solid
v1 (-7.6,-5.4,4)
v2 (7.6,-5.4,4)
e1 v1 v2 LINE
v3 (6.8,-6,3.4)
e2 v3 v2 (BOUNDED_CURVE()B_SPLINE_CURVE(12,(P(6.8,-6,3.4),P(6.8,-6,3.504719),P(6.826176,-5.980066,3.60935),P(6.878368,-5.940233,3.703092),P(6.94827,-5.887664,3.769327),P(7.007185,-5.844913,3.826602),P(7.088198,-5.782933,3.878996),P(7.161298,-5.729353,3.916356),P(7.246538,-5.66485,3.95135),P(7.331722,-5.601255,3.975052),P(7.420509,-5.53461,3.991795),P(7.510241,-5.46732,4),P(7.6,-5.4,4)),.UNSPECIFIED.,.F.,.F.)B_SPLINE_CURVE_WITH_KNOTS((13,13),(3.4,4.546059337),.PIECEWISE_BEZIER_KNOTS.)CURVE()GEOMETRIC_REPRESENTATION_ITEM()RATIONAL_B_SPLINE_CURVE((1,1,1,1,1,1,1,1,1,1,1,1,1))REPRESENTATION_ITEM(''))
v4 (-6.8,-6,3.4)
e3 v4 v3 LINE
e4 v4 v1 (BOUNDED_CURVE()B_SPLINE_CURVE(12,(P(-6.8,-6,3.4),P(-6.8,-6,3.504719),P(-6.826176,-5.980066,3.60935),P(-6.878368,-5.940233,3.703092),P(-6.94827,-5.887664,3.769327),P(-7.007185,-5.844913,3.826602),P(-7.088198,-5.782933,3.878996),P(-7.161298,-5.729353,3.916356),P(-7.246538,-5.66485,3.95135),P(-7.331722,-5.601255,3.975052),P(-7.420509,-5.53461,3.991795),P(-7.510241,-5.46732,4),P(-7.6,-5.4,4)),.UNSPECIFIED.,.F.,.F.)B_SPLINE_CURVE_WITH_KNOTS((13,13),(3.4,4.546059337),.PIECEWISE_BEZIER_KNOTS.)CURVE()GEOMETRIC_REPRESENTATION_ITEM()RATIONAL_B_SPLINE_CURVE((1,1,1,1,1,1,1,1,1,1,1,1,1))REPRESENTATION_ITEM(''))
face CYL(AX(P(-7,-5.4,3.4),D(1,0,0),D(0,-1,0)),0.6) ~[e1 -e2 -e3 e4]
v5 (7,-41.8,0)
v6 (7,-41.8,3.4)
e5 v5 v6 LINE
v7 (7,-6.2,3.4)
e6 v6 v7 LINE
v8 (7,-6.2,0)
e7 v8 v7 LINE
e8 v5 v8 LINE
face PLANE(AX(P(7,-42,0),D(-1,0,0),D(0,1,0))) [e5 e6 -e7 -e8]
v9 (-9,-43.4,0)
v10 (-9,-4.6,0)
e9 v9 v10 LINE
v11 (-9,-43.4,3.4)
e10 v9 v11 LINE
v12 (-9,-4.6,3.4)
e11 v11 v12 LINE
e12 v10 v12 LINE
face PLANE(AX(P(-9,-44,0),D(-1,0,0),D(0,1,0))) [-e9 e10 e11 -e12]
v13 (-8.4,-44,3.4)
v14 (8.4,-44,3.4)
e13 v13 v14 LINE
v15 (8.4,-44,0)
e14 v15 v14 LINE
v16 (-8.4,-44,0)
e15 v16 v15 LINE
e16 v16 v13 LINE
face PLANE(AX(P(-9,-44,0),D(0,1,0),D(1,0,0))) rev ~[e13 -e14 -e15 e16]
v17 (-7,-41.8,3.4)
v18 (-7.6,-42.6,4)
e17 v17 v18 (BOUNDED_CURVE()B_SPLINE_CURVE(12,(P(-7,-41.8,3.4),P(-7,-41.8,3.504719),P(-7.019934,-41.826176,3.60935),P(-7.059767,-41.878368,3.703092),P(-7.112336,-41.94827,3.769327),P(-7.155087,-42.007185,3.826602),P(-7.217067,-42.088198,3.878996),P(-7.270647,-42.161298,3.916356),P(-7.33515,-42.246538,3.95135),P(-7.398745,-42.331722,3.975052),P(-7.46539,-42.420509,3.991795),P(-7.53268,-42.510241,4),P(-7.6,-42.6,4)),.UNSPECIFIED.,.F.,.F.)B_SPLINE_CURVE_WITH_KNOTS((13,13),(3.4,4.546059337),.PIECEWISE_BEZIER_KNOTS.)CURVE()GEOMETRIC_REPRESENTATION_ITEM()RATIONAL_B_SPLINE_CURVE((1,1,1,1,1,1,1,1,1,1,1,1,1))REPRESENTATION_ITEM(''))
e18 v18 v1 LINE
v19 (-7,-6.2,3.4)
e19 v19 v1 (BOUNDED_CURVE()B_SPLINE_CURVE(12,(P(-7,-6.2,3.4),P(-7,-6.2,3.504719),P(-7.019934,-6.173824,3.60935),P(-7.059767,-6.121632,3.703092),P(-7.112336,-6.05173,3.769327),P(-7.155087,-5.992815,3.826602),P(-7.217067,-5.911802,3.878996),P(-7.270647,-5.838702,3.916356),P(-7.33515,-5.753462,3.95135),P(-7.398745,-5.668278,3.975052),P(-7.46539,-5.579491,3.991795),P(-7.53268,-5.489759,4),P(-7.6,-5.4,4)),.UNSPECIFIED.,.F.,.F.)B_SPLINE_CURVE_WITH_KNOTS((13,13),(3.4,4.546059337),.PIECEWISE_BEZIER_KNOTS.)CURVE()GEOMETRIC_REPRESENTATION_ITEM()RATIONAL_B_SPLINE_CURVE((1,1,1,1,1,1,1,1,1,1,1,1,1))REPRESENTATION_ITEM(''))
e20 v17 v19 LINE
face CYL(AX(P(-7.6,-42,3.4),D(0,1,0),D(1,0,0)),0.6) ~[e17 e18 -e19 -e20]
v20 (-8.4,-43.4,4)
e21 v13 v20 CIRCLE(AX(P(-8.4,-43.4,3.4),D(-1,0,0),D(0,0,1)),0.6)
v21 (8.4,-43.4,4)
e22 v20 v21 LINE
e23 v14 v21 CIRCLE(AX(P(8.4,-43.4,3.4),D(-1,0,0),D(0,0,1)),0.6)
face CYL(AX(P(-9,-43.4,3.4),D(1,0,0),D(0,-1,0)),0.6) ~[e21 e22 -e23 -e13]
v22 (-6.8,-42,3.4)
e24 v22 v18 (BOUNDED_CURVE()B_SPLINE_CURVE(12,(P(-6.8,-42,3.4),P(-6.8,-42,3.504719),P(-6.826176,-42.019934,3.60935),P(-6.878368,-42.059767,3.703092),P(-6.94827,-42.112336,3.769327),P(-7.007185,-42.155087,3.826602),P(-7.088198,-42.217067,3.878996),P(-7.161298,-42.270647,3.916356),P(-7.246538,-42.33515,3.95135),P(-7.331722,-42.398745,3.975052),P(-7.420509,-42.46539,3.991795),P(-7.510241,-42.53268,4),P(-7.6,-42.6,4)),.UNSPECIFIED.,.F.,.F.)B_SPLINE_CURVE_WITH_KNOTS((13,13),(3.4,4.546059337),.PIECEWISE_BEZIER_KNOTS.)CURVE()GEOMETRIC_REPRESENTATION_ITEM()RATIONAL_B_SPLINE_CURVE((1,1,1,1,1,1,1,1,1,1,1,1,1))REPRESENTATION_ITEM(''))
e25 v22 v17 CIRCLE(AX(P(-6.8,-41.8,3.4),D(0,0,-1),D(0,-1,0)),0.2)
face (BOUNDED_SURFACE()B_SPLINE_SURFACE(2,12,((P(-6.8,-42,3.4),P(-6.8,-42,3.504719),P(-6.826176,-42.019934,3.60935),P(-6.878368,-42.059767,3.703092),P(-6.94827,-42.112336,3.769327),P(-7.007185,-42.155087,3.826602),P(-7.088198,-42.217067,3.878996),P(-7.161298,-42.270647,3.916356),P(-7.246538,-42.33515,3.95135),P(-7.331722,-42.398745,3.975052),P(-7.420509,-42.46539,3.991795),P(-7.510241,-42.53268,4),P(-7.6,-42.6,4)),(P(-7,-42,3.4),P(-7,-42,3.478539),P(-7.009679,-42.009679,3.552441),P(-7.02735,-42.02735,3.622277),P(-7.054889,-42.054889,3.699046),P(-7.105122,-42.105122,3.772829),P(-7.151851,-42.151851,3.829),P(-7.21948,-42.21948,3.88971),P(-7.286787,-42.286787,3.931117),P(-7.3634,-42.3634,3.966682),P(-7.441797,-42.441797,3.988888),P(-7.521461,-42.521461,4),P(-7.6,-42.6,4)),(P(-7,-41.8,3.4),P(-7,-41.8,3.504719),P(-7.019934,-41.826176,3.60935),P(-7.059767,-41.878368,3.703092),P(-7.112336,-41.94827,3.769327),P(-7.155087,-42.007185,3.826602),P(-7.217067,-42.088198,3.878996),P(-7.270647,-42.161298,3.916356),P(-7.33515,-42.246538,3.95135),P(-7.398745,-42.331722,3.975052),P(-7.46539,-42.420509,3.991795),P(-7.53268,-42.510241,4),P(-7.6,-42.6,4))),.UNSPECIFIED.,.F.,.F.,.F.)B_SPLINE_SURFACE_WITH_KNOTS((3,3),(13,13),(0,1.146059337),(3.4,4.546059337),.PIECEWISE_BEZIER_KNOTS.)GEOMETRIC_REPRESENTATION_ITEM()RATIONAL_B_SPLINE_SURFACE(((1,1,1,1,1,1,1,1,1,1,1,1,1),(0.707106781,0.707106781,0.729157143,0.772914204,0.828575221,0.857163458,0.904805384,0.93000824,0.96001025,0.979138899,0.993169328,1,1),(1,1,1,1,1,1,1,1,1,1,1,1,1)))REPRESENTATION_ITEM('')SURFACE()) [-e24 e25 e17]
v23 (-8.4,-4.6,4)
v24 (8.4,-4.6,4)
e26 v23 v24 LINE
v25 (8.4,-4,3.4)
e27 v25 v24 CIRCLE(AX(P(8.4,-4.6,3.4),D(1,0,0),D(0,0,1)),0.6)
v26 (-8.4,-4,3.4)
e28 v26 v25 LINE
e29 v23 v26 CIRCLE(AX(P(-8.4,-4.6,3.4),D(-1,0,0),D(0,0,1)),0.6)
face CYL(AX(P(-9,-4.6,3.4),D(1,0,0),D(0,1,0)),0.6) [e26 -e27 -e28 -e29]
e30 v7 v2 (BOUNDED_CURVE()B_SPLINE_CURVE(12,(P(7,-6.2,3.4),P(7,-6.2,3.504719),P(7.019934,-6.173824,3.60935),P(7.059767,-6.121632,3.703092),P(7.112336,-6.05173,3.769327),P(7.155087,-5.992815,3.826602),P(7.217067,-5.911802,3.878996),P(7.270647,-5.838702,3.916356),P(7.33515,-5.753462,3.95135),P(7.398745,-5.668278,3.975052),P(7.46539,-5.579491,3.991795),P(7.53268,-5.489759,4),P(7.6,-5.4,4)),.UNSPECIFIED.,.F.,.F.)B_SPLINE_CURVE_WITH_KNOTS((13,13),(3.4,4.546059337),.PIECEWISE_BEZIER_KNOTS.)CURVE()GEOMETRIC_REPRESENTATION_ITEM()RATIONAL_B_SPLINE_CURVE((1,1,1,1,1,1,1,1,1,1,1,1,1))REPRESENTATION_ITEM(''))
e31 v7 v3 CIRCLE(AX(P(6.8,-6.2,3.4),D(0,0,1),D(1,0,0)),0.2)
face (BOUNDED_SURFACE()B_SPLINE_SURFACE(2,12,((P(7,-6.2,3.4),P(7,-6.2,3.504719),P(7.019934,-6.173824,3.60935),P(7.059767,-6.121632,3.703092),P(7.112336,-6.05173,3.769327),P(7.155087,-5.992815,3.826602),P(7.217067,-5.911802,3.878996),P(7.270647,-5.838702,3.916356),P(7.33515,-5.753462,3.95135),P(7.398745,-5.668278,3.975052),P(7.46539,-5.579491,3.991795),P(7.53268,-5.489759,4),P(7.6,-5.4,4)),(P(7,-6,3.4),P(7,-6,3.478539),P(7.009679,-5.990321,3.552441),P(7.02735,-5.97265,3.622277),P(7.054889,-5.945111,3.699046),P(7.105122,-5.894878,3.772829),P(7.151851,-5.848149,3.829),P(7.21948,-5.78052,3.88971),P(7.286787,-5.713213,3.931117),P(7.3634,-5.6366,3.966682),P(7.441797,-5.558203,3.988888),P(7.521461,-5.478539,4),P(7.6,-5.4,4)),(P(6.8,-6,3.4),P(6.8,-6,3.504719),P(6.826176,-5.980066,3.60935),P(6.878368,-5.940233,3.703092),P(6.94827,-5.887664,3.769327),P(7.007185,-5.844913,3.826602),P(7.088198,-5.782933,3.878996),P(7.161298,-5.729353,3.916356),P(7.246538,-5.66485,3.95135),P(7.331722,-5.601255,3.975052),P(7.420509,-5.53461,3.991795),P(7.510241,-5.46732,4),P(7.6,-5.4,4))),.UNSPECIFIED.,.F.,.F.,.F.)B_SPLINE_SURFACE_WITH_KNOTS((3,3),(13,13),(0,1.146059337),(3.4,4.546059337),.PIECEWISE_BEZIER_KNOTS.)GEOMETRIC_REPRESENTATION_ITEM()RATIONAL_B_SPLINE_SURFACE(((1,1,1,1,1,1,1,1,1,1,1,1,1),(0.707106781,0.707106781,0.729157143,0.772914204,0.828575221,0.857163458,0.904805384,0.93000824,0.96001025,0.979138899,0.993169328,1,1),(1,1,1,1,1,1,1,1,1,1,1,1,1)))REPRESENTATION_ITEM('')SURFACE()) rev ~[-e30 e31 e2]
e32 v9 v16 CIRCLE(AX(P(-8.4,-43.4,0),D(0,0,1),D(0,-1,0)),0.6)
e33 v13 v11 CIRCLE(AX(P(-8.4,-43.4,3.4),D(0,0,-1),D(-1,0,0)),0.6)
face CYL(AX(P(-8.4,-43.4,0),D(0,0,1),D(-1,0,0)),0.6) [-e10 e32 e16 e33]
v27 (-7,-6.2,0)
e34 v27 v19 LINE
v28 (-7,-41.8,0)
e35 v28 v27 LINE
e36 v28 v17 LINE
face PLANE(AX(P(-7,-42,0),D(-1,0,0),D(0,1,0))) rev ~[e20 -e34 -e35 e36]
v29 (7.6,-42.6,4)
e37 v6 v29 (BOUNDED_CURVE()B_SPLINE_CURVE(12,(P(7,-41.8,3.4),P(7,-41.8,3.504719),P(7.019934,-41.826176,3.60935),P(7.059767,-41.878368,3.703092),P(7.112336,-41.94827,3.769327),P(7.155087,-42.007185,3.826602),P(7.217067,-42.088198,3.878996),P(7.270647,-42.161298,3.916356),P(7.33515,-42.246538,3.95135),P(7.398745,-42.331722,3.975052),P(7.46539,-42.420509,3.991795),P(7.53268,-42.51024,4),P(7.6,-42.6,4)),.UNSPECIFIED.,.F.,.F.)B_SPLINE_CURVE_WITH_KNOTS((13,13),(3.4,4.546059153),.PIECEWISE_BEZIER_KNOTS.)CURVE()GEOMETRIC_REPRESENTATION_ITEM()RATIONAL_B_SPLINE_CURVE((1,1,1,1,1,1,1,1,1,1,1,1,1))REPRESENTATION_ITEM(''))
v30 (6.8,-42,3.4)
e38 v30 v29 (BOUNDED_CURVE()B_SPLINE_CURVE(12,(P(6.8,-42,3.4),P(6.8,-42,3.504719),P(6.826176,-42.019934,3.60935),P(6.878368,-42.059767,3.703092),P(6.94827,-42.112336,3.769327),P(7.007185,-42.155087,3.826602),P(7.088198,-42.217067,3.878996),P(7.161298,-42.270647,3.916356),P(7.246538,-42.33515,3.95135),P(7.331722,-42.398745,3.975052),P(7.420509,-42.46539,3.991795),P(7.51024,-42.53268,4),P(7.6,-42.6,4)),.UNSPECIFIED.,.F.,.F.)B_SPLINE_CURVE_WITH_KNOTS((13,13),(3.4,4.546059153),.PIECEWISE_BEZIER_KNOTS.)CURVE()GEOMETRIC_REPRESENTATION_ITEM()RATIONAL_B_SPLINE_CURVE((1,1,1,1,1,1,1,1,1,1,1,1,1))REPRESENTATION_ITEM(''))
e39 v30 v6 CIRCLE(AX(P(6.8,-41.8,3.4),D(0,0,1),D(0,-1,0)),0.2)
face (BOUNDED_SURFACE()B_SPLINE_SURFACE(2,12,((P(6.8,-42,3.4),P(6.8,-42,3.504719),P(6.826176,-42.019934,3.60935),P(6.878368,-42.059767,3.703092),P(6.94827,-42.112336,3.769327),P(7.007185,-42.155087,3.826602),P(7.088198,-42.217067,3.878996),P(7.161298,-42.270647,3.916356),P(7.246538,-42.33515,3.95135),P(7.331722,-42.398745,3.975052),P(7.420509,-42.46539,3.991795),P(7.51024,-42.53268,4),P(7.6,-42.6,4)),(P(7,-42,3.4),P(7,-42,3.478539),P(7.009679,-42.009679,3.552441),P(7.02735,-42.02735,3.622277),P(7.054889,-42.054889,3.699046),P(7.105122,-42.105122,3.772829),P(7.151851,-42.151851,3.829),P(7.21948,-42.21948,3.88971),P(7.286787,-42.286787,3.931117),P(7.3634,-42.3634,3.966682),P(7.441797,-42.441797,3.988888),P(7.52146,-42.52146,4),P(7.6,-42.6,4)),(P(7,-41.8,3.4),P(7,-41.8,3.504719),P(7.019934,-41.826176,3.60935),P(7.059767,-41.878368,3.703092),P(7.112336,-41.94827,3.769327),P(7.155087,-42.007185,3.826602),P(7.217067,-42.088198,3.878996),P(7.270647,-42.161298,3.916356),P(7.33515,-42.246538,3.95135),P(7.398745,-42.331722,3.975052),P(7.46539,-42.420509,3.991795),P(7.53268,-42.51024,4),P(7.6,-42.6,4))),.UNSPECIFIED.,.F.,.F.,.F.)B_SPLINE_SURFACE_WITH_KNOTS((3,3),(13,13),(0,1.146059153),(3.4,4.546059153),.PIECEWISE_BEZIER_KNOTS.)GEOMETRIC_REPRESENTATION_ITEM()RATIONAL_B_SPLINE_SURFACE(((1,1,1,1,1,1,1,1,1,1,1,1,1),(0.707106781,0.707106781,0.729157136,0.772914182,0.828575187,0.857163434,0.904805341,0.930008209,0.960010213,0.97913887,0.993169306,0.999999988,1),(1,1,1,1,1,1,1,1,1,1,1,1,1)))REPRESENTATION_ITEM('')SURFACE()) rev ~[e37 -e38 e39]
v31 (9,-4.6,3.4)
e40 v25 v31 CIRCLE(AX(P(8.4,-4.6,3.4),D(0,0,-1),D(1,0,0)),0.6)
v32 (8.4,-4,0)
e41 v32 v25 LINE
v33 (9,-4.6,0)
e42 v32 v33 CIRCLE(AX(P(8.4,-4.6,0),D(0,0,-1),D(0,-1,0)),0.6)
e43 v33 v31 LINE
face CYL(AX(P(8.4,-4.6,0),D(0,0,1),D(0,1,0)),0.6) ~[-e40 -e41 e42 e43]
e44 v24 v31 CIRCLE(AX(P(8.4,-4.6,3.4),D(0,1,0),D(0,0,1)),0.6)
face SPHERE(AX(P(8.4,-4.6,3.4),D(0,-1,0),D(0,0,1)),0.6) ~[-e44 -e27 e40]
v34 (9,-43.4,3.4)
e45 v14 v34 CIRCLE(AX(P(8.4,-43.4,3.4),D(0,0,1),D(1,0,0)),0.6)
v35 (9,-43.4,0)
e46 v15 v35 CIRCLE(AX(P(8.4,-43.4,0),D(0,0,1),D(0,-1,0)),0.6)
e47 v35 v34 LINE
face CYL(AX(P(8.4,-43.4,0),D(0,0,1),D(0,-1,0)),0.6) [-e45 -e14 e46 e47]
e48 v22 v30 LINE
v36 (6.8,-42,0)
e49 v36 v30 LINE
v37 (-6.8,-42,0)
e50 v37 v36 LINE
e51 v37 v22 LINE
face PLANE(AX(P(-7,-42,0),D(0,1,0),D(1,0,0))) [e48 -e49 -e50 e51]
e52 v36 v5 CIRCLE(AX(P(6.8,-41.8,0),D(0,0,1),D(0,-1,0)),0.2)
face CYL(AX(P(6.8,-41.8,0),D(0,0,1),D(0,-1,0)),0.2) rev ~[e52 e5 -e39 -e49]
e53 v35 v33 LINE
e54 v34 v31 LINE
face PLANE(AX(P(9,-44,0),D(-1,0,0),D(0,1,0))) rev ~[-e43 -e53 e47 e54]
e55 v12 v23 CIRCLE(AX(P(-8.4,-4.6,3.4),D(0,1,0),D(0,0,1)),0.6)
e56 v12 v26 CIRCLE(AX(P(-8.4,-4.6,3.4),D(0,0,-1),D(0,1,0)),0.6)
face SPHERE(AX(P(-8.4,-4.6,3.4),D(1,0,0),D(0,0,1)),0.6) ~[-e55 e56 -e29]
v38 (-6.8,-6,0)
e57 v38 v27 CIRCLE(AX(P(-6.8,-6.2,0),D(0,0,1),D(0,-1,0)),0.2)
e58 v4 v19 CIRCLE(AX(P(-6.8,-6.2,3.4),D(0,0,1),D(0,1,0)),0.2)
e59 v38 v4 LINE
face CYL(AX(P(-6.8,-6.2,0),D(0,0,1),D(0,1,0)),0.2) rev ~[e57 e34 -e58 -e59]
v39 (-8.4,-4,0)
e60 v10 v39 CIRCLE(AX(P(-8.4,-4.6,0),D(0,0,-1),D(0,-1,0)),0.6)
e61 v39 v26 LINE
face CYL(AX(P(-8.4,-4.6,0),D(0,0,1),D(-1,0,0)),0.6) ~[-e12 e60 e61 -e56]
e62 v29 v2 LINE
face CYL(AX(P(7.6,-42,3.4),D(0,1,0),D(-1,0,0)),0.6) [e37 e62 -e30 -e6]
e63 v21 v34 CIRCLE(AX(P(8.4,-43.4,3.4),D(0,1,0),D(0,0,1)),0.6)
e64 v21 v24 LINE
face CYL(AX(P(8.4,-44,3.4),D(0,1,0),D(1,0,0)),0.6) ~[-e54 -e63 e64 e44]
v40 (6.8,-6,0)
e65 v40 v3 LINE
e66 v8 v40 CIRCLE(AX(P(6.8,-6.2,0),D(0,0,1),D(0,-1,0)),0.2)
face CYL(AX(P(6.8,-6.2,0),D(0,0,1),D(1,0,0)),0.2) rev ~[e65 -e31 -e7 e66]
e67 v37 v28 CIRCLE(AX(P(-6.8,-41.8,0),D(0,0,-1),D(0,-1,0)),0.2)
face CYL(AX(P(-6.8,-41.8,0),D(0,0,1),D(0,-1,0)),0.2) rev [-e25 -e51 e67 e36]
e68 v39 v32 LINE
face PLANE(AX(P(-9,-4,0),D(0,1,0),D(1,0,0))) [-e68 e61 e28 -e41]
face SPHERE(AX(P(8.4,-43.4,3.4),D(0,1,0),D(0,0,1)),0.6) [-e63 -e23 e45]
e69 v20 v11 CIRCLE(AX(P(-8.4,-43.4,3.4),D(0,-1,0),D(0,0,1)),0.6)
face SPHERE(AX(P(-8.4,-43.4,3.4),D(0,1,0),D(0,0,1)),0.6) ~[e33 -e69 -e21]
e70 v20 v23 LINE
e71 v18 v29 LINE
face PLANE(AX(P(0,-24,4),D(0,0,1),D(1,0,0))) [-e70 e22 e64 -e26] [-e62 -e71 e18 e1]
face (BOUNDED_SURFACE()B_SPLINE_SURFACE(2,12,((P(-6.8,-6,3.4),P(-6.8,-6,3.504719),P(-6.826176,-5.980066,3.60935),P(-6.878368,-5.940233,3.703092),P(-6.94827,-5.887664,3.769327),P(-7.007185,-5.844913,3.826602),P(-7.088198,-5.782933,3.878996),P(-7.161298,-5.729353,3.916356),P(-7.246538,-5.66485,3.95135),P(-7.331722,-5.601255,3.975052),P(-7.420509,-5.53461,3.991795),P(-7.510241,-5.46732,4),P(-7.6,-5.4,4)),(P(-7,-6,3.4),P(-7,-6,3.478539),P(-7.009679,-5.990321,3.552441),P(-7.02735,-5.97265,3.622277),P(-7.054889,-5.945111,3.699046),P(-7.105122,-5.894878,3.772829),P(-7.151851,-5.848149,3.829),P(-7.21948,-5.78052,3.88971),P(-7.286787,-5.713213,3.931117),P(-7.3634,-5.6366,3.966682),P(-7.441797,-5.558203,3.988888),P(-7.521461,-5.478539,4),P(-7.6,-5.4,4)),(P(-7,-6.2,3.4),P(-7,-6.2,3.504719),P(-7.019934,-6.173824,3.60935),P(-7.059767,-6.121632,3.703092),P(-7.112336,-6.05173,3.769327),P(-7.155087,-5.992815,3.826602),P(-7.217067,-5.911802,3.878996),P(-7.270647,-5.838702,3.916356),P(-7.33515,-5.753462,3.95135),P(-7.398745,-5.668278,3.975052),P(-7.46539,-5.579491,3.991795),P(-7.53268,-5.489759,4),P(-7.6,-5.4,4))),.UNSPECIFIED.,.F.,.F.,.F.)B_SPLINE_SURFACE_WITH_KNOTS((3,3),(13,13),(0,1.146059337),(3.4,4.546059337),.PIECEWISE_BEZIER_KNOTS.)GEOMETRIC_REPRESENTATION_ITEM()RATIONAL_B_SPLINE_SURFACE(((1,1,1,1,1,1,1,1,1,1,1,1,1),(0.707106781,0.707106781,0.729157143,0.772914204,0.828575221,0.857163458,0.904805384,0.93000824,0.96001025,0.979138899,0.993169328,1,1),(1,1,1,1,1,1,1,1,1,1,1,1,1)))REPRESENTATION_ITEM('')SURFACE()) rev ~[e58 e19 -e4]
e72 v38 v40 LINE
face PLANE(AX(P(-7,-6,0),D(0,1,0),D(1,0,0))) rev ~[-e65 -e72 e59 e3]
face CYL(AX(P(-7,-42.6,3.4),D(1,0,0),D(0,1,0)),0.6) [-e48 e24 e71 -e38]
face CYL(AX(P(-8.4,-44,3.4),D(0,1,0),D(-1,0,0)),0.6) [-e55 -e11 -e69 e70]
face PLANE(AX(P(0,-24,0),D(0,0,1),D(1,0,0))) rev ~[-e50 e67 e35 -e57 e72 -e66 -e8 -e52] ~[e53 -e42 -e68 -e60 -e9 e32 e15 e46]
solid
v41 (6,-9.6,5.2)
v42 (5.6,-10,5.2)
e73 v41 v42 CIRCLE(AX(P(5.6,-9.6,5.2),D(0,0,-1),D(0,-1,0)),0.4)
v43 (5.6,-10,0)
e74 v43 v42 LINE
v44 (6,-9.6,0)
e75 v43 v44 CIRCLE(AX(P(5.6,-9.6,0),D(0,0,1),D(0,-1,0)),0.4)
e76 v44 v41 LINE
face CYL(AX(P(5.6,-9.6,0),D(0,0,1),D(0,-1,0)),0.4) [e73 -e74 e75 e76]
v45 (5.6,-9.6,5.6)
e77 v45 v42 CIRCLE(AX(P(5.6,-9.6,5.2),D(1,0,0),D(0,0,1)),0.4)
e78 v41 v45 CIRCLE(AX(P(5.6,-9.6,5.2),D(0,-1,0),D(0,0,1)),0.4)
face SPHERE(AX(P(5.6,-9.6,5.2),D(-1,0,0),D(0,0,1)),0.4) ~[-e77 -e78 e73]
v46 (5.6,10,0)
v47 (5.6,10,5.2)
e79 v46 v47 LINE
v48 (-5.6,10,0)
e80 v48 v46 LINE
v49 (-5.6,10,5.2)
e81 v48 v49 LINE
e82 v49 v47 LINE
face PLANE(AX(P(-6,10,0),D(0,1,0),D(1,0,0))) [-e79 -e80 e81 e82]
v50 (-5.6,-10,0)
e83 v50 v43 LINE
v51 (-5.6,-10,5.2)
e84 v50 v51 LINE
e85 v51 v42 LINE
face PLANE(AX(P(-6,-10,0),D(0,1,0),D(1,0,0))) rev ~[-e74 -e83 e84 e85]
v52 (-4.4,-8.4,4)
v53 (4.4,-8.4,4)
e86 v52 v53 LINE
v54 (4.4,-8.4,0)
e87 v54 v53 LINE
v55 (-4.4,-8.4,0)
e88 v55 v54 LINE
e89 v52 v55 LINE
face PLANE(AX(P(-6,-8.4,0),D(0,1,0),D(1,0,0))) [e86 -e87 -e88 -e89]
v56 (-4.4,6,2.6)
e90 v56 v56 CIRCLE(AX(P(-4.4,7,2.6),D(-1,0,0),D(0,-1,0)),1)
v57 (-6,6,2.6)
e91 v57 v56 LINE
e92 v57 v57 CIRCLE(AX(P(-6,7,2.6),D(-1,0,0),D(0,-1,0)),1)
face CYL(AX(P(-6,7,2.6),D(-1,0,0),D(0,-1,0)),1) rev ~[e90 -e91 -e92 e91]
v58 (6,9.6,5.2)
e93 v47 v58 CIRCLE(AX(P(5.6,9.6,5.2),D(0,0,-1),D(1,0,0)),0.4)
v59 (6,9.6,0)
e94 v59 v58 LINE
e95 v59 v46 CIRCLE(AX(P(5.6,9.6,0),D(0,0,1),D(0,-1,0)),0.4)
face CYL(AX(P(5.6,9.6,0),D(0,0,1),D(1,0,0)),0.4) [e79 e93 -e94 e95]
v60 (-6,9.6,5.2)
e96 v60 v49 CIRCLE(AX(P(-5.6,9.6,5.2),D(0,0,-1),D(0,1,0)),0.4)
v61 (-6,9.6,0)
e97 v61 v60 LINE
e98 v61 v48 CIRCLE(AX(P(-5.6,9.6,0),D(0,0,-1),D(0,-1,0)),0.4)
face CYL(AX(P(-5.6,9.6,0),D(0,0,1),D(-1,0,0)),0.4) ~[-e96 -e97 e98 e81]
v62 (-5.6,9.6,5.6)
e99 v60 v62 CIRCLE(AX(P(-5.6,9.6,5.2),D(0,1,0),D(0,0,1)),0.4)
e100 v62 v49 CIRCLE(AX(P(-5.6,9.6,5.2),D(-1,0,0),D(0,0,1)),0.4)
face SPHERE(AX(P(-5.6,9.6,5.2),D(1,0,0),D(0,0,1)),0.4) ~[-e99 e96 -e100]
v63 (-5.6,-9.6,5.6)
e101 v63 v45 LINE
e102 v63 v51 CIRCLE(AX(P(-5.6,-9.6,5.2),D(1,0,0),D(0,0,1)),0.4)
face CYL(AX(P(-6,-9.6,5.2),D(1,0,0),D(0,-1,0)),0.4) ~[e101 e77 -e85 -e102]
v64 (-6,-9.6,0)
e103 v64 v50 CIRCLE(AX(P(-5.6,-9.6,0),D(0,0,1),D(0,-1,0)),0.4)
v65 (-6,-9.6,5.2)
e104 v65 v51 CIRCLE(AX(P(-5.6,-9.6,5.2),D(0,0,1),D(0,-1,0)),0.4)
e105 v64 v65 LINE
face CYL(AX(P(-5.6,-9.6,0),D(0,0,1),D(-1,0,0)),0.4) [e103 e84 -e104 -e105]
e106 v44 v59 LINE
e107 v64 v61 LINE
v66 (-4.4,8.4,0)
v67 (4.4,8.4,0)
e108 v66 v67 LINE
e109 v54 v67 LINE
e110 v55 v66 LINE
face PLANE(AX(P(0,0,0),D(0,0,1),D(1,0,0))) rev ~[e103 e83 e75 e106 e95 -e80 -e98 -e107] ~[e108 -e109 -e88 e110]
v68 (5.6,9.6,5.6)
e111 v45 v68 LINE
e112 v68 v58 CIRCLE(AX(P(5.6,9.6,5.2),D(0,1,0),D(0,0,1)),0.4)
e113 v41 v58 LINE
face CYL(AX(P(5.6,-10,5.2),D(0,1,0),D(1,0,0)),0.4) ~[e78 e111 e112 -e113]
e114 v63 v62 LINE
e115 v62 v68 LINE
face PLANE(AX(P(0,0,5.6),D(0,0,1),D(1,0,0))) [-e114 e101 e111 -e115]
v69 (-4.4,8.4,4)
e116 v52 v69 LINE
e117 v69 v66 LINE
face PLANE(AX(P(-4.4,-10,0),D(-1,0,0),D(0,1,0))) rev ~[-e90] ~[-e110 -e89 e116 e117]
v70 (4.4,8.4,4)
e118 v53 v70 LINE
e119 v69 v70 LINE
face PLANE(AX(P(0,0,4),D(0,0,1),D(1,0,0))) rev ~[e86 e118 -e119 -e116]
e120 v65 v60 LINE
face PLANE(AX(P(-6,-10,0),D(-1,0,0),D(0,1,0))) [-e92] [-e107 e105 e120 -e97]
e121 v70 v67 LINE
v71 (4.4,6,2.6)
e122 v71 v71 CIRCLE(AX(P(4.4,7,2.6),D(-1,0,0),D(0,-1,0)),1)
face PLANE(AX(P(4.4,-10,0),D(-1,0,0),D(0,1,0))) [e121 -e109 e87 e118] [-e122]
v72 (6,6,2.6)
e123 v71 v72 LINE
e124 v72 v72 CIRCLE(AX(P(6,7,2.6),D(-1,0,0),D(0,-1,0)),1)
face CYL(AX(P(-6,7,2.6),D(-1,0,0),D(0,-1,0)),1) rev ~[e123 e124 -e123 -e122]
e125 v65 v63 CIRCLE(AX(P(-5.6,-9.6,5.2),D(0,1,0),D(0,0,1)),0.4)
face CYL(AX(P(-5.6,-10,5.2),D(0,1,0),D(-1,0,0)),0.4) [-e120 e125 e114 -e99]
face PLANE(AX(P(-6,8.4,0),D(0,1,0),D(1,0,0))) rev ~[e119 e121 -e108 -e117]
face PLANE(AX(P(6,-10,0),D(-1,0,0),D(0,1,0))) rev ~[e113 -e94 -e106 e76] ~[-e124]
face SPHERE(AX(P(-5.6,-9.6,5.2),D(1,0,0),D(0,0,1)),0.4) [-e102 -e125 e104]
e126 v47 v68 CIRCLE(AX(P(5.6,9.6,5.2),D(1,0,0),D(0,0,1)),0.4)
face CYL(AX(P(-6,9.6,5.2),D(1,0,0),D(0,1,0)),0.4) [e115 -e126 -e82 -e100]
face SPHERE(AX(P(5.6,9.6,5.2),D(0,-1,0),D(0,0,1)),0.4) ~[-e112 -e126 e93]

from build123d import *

# Parameters (mm, degrees)
F0_W     = 12
F0_H     = 20
F1_DEPTH = 5.6
F2_T     = -1.6
F3_W     = 18
F3_H     = 40
F3_W_2   = 14
F3_H_2   = 36
F4_DEPTH = 4
F5_R     = 0.4
F6_R     = 0.6
F7_R     = 0.2
F8_R     = 1
F9_DEPTH = 25


with BuildPart() as f1:
    # F0 (on Top) → F1 (new body)
    with BuildSketch(Plane.XY):
        Rectangle(F0_W, F0_H)
    extrude(amount=F1_DEPTH)

    # F2
    f2_openings = [f1.faces().sort_by_distance(p)[0] for p in [
        (0, 0, 0),
    ]]
    offset(amount=F2_T, openings=f2_openings)

    # F5
    f5_edges = [f1.edges().sort_by_distance(p)[0] for p in [
        (0, -10, 5.6),
        (6, 0, 5.6),
        (0, 10, 5.6),
        (-6, 0, 5.6),
        (-6, 10, 2.8),
        (-6, -10, 2.8),
        (6, -10, 2.8),
        (6, 10, 2.8),
    ]]
    fillet(f5_edges, radius=F5_R)

    # F8 (on face) → F9 (cut)
    with BuildSketch(Plane(origin=(-6, 0, 0), x_dir=(0, -1, 0), z_dir=(-1, 0, 0))):
        with Locations((-7, 2.6)):
            Circle(F8_R)
    extrude(amount=-F9_DEPTH, mode=Mode.SUBTRACT)


with BuildPart() as f4:
    # F3 (on Top) → F4 (new body)
    with BuildSketch(Plane.XY):
        with Locations((0, -24)):
            Rectangle(F3_W, F3_H)
        with Locations((0, -24)):
            Rectangle(F3_W_2, F3_H_2, mode=Mode.SUBTRACT)
    extrude(amount=F4_DEPTH)

    # F6
    f6_edges = [f4.edges().sort_by_distance(p)[0] for p in [
        (9, -24, 4),
        (0, -4, 4),
        (-9, -24, 4),
        (0, -44, 4),
        (0, -6, 4),
        (7, -24, 4),
        (0, -42, 4),
        (-7, -24, 4),
        (-9, -4, 2),
        (9, -4, 2),
        (9, -44, 2),
        (-9, -44, 2),
    ]]
    fillet(f6_edges, radius=F6_R)

    # F7
    f7_edges = [f4.edges().sort_by_distance(p)[0] for p in [
        (-7, -6, 1.7),
        (7, -6, 1.7),
        (-7, -42, 1.7),
        (7, -42, 1.7),
    ]]
    fillet(f7_edges, radius=F7_R)


solid = Compound([f1.part, f4.part])
